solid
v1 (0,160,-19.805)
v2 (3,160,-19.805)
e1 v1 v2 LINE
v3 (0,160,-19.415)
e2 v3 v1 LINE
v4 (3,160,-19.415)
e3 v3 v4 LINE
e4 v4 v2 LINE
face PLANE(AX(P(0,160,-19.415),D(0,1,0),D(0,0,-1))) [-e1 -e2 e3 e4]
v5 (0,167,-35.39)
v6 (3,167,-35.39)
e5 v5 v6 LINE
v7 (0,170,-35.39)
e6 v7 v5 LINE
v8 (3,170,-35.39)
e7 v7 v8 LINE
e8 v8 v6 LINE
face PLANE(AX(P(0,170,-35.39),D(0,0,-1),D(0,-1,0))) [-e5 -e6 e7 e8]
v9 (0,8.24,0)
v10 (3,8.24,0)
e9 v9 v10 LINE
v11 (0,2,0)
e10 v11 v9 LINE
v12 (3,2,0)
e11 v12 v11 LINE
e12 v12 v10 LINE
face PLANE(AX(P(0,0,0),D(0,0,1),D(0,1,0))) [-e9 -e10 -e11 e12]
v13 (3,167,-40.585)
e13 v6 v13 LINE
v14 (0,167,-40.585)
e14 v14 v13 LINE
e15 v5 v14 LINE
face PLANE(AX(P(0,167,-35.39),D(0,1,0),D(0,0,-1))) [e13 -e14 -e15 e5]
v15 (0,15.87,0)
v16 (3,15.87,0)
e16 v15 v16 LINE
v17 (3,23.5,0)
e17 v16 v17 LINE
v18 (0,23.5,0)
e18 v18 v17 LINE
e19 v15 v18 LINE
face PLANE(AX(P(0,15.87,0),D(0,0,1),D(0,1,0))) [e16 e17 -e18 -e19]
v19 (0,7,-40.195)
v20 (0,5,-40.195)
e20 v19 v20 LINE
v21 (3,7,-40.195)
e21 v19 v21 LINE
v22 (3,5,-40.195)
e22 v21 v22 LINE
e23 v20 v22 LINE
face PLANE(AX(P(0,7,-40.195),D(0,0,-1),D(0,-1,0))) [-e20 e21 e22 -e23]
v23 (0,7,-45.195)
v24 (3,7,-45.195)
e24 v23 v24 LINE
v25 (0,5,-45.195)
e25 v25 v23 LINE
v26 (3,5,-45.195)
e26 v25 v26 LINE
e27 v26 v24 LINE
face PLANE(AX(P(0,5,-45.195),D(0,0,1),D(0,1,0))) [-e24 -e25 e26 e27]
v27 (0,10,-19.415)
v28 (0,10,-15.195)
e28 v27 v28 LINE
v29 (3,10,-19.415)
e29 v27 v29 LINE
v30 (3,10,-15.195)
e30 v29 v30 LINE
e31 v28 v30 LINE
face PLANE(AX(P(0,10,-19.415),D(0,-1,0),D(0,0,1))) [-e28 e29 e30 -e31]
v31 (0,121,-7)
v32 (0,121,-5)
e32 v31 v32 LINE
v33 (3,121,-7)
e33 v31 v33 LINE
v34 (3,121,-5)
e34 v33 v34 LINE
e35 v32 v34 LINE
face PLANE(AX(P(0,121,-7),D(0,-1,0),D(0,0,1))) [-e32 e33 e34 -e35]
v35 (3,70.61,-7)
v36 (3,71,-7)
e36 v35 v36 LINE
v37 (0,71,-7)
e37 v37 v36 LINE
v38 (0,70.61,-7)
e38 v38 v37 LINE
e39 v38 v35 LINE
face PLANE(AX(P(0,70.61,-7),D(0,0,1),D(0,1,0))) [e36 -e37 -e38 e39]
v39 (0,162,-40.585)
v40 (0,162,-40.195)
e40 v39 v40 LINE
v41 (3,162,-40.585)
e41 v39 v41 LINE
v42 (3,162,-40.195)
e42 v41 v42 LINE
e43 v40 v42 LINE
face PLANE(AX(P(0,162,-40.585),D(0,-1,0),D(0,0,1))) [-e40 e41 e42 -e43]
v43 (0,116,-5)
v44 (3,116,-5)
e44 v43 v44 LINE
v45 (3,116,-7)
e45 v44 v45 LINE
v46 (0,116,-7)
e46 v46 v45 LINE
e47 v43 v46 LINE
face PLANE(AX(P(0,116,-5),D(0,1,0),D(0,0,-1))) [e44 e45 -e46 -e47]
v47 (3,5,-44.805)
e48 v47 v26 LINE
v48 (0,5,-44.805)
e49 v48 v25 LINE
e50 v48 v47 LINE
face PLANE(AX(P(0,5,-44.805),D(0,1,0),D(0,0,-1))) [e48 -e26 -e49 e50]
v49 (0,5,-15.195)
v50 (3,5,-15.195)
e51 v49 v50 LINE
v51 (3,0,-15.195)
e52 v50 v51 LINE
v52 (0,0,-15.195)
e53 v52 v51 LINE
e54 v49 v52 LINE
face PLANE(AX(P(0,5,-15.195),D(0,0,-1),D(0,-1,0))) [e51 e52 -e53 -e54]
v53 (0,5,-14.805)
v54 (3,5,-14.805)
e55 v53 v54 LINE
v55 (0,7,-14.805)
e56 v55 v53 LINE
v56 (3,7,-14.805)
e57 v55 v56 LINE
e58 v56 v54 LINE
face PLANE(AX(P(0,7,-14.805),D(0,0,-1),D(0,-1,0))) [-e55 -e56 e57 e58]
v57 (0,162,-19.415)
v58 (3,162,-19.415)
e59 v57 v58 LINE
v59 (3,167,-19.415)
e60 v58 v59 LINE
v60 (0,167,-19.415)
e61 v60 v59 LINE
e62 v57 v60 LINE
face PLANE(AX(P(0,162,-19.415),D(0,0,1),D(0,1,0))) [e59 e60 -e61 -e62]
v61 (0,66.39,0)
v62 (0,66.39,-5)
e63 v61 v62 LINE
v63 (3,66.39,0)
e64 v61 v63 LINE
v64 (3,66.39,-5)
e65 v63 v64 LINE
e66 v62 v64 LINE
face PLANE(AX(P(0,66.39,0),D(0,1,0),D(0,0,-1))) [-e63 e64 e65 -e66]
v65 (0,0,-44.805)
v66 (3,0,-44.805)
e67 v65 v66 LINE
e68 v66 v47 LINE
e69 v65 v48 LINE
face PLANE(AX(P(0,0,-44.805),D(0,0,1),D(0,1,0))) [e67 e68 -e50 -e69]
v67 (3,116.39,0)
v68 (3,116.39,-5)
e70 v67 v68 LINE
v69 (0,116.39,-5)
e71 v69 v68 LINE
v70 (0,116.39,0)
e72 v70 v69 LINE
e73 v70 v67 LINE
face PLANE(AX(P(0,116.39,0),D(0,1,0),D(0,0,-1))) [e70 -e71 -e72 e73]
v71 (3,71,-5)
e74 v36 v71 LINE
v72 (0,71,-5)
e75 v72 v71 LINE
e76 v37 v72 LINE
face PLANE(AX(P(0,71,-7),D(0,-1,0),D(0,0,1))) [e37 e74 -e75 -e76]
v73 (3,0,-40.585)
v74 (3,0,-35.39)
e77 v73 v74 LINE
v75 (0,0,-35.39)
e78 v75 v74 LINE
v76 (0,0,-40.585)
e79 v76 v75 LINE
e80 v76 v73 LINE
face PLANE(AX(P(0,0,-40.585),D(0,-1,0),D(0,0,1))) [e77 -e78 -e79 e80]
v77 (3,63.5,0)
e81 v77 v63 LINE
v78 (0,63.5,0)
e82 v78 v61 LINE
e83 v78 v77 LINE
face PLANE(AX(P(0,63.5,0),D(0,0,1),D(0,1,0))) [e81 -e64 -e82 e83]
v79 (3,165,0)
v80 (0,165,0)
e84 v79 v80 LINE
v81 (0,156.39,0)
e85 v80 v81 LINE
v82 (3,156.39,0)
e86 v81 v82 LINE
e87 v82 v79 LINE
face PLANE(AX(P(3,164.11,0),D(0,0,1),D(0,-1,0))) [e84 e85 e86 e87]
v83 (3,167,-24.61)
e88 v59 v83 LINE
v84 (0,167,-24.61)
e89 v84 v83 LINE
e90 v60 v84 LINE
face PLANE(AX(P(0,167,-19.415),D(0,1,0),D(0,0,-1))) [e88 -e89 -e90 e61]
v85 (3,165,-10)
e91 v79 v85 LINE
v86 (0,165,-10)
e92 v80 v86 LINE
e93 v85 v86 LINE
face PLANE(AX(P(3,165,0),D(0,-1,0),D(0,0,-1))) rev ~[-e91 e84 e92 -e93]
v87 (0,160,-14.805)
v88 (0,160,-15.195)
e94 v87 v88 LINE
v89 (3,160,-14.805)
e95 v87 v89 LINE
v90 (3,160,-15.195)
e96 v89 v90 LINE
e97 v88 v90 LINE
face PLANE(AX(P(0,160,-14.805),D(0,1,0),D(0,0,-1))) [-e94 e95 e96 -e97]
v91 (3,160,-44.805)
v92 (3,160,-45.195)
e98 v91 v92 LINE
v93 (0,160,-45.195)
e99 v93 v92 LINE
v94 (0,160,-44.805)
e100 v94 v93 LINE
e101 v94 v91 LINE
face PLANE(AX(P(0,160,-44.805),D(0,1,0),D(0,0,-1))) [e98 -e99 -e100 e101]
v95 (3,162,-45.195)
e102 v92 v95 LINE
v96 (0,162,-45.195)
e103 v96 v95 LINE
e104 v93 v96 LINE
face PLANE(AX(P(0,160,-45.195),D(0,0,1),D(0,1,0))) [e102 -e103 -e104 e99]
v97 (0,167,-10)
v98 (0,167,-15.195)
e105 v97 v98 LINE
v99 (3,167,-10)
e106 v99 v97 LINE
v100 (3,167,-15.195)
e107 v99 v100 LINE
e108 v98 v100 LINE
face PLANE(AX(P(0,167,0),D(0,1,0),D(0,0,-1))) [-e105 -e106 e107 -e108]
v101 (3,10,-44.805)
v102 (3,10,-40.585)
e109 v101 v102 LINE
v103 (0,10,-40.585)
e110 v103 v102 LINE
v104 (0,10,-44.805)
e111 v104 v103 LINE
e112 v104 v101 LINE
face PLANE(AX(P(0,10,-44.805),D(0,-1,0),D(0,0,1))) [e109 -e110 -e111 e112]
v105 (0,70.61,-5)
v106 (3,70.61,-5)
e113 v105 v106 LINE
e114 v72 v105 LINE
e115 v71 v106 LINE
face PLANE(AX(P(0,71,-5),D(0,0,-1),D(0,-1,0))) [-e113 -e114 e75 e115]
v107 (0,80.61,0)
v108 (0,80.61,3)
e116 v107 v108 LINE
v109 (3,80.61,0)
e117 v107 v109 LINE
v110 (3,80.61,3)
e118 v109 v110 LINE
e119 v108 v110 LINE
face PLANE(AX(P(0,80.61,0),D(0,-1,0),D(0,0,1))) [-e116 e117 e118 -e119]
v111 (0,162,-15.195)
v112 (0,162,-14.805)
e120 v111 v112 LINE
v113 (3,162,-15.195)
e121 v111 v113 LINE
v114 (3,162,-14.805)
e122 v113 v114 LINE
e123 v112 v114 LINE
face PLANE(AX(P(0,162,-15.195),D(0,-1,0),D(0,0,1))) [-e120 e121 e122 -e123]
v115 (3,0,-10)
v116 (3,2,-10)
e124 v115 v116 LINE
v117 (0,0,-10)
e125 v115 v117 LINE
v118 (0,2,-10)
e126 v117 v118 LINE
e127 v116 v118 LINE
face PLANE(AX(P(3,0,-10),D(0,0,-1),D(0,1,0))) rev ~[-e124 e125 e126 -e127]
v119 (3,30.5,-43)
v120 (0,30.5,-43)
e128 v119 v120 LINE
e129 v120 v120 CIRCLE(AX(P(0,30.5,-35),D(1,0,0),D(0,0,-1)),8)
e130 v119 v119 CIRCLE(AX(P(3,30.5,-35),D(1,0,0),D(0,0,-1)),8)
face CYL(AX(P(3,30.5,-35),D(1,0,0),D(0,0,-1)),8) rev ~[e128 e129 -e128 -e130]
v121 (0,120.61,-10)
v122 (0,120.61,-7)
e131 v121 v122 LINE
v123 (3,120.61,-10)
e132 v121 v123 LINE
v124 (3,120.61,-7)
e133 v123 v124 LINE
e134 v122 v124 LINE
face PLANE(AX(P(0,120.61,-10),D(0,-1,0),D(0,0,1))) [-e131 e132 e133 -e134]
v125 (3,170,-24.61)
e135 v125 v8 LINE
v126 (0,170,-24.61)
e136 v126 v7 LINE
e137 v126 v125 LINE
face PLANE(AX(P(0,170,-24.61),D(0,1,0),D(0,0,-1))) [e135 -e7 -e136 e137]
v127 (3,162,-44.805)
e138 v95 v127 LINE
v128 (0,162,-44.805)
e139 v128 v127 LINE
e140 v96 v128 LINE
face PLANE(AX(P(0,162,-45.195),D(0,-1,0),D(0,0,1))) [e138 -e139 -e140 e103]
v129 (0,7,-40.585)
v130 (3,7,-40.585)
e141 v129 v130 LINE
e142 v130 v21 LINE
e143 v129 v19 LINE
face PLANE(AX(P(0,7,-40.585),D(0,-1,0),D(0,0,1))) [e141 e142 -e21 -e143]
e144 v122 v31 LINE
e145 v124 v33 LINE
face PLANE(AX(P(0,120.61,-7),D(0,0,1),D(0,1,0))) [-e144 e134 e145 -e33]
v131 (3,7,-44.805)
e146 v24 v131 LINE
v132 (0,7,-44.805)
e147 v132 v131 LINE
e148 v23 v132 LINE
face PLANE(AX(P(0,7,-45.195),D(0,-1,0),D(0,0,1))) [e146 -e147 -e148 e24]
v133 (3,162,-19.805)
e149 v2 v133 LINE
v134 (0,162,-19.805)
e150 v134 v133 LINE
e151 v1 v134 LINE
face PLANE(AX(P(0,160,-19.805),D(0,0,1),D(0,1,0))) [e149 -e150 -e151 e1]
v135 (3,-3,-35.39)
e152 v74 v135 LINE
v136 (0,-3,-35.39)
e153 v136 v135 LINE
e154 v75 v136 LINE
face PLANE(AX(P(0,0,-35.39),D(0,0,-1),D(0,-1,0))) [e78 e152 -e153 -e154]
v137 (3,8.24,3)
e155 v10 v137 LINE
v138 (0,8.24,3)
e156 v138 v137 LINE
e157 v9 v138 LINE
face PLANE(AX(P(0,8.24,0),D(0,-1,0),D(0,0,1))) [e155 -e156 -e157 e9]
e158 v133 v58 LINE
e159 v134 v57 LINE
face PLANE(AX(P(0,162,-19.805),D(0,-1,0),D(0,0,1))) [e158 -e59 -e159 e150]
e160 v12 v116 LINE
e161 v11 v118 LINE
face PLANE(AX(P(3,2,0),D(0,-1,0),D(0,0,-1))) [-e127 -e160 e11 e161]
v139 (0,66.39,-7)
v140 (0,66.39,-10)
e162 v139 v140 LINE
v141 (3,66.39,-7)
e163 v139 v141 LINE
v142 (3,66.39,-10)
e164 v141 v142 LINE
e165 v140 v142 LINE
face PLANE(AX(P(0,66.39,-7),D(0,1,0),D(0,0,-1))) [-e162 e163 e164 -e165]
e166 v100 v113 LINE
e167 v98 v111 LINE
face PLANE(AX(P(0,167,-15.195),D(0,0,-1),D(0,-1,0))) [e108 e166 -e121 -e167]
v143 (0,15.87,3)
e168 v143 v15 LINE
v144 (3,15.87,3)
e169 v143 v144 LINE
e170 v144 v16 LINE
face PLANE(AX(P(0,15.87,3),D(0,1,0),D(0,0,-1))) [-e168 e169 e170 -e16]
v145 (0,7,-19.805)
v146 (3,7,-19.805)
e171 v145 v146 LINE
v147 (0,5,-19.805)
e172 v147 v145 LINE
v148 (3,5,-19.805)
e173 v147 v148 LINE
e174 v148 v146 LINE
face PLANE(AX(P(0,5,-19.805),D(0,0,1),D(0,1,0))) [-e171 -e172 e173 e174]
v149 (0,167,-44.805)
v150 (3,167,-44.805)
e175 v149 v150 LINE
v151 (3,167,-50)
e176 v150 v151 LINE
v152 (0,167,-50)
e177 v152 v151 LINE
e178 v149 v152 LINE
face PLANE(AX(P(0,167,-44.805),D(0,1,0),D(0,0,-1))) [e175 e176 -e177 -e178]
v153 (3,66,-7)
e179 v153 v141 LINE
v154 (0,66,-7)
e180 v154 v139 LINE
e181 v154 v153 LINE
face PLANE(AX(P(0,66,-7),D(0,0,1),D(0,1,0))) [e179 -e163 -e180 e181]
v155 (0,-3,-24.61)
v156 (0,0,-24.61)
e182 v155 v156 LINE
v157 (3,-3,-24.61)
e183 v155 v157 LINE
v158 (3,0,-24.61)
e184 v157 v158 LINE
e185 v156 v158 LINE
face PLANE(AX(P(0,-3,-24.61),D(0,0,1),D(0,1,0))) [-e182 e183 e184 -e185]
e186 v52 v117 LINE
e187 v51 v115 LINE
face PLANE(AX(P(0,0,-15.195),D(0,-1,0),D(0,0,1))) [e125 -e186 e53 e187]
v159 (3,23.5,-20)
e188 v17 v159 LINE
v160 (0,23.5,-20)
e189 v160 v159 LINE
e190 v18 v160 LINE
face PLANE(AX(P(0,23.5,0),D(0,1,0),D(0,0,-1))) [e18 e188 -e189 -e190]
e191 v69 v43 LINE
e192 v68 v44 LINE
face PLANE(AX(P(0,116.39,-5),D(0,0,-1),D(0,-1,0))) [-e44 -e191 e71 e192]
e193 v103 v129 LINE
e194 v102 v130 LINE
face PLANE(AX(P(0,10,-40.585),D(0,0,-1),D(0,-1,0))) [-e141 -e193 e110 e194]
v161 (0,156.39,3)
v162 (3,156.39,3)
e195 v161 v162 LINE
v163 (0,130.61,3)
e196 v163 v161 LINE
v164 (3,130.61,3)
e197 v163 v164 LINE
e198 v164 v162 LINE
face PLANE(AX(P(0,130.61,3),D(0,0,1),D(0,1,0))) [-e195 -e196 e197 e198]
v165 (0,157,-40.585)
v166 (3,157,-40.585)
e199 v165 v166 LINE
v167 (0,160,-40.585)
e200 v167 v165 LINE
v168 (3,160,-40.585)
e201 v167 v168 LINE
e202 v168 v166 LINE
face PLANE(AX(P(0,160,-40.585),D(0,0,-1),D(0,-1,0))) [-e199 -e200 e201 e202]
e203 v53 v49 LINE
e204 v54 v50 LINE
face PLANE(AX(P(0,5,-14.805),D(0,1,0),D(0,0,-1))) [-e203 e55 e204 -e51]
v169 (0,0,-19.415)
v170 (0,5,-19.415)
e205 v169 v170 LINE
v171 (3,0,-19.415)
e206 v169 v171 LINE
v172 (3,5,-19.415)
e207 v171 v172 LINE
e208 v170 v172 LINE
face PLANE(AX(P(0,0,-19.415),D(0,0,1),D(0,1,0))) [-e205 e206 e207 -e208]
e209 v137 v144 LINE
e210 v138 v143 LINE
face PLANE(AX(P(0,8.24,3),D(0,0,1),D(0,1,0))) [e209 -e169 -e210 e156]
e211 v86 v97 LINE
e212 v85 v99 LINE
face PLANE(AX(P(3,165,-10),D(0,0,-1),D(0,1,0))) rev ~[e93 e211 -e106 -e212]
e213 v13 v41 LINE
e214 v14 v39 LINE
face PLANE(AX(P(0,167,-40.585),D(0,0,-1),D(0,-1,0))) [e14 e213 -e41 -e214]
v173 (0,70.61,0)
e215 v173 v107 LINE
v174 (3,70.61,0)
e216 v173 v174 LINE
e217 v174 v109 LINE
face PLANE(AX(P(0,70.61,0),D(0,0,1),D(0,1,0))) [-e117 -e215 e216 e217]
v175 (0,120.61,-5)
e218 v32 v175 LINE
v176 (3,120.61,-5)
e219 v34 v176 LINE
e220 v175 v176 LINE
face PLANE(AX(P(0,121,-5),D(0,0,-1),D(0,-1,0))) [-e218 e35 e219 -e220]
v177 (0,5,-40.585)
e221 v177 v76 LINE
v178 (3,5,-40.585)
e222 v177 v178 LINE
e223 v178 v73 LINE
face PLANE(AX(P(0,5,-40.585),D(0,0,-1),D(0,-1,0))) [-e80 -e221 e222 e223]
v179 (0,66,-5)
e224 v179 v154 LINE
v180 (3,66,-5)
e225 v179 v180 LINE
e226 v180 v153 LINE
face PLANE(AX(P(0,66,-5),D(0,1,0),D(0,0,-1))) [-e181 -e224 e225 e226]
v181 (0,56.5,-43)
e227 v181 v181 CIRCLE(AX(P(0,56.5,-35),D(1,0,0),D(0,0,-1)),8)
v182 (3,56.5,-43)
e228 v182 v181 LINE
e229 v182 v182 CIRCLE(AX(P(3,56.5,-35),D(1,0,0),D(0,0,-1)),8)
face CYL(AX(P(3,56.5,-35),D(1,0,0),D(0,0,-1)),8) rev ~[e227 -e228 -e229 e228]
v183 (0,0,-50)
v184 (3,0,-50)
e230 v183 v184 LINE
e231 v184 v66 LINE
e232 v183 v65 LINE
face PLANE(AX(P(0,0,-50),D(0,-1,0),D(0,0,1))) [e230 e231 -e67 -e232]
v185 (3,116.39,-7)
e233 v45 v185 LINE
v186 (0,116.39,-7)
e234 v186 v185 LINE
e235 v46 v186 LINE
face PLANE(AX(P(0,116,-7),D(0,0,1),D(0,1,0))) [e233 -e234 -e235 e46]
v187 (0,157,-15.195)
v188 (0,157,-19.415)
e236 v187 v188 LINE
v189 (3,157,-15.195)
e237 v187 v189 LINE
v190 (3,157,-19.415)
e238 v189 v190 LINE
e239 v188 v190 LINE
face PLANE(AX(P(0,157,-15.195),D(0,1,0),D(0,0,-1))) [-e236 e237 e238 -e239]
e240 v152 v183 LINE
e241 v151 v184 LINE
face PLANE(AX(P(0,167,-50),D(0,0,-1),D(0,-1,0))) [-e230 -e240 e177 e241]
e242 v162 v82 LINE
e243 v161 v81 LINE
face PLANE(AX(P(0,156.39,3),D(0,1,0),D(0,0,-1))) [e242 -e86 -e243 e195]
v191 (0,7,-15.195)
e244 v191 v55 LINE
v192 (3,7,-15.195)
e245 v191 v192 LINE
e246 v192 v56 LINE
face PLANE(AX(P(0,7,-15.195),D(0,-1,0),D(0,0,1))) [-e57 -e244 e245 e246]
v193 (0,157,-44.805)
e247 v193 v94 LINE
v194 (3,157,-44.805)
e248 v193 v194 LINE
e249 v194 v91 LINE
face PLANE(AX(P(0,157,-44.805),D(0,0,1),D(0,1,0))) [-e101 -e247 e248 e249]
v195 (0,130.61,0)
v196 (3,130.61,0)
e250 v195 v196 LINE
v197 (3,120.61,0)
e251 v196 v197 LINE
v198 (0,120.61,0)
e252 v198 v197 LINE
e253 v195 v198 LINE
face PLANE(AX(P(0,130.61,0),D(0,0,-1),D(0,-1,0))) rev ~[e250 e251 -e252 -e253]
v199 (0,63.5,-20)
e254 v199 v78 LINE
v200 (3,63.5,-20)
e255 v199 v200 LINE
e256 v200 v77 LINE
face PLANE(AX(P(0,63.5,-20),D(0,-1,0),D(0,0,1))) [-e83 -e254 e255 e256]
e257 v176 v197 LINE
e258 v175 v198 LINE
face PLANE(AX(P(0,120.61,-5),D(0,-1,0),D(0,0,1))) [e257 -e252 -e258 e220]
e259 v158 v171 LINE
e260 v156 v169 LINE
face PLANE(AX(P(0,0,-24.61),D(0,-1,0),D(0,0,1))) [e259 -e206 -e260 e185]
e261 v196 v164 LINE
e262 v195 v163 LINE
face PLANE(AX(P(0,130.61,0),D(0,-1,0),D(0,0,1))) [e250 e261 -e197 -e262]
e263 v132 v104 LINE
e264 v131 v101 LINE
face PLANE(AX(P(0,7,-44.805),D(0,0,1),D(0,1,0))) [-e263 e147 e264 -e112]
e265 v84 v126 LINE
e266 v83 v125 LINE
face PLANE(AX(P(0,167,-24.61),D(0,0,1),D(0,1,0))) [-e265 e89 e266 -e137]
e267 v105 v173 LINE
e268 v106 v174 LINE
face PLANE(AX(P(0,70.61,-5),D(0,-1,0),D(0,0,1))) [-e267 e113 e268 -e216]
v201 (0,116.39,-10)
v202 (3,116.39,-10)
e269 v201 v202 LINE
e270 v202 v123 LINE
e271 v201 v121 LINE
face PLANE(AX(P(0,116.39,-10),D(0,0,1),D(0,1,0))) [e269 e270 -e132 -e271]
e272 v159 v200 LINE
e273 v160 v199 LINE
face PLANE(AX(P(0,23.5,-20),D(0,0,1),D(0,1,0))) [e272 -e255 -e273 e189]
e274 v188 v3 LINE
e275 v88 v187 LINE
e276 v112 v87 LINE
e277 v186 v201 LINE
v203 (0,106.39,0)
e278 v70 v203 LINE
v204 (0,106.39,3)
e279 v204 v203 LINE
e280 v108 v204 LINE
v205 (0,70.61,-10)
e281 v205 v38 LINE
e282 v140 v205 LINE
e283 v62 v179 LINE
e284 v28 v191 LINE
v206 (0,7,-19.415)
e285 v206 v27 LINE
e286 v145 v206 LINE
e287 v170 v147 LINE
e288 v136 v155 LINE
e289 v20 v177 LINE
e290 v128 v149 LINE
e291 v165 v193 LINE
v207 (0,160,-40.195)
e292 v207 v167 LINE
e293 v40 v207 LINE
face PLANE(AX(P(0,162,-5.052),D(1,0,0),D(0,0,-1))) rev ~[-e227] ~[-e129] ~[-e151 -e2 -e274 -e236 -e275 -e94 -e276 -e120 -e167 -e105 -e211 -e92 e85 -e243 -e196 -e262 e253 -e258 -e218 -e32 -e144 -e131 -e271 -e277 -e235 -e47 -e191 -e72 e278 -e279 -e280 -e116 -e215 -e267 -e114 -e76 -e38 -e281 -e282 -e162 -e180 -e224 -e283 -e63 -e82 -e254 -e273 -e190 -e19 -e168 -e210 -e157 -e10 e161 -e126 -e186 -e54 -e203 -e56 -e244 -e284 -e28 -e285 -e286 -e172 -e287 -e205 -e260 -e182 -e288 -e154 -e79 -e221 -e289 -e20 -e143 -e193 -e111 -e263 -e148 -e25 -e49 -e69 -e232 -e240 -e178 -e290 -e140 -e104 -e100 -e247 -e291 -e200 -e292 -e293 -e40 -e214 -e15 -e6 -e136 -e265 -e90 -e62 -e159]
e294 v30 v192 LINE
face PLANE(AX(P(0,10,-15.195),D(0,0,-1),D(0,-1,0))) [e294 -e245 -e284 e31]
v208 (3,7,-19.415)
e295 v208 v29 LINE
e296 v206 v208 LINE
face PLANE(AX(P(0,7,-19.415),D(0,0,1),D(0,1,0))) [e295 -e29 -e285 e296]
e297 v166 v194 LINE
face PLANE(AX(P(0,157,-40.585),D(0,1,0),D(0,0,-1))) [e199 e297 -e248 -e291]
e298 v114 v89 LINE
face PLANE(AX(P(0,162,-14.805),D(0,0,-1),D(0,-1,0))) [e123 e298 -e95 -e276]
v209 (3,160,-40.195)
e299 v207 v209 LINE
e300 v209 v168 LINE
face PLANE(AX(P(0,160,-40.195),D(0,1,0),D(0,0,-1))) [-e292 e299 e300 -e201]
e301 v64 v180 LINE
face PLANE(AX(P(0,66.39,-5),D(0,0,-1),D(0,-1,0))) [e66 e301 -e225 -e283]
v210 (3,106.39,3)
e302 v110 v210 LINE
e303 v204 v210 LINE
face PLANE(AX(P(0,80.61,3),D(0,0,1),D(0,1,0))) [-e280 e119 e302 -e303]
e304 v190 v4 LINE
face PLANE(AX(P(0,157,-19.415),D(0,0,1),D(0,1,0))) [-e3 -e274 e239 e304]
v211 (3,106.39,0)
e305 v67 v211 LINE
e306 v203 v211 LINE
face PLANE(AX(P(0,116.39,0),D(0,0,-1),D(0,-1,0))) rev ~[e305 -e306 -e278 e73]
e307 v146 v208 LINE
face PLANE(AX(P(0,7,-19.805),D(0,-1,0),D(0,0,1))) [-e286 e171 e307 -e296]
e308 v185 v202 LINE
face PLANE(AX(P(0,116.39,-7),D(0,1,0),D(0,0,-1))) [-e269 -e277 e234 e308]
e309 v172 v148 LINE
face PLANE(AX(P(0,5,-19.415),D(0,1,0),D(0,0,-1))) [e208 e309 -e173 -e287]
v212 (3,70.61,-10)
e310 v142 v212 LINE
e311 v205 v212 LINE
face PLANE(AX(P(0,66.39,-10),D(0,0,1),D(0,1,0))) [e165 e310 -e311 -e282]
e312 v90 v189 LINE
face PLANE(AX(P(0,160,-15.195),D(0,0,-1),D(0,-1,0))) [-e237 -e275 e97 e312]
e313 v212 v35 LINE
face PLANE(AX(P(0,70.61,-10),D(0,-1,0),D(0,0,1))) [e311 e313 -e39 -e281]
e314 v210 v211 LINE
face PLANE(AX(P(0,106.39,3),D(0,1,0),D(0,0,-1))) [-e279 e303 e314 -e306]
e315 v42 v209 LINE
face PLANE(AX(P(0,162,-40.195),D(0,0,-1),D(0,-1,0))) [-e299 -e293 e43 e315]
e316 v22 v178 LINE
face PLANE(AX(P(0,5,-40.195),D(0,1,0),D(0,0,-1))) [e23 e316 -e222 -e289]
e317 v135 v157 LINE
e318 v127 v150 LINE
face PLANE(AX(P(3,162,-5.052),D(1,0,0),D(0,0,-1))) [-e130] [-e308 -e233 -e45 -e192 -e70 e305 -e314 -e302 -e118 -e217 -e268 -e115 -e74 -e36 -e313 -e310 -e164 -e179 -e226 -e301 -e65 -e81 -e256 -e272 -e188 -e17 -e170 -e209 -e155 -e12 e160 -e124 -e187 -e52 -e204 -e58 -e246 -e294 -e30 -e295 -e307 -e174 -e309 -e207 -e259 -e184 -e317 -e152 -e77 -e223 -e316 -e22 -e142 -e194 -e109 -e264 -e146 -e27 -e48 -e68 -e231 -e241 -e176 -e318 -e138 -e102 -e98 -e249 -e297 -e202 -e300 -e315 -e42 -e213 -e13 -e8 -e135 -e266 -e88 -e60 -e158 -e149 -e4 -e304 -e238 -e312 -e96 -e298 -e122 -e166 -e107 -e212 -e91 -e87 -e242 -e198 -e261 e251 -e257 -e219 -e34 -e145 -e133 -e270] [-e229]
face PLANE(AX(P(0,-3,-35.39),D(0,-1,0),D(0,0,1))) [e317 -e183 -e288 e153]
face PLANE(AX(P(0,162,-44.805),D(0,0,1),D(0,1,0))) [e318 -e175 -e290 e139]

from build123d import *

# Parameters (mm, degrees)
BOSS_EXTRUDE1_DEPTH = 3
SKETCH2_W           = 10
SKETCH2_H           = 2
CUT_EXTRUDE1_DEPTH  = 3
BOSS_EXTRUDE3_DEPTH = 3
SKETCH4_W           = 10
SKETCH4_H           = 2
CUT_EXTRUDE2_DEPTH  = 4
SKETCH5_R           = 8
CUT_EXTRUDE3_DEPTH  = 10


with BuildPart() as part:
    # Sketch1 → Boss-Extrude1 (new body)
    with BuildSketch(Plane(origin=(0, 0, 0), x_dir=(0, 0, -1), z_dir=(1, 0, 0))):
        Polygon((-3, 80.61), (-3, 106.39), (0, 106.39), (0, 113.14), (0, 116.39), (5, 116.39), (5, 116), (7, 116), (7, 116.39), (10, 116.39), (10, 120.61), (7, 120.61), (7, 121), (5, 121), (5, 120.61), (0, 120.61), (0, 124.11), (0, 130.61), (-3, 130.61), (-3, 156.39), (0, 156.39), (0, 159.89), (5, 159.89), (5, 159.5), (7, 159.5), (7, 159.89), (10, 159.89), (10, 164.11), (7, 164.11), (7, 164.5), (5, 164.5), (5, 164.11), (0, 164.11), (0, 167), (15.195, 167), (15.195, 162), (14.805, 162), (14.805, 160), (15.195, 160), (15.195, 157), (19.415, 157), (19.415, 160), (19.805, 160), (19.805, 162), (19.415, 162), (19.415, 167), (24.61, 167), (24.61, 170), (35.39, 170), (35.39, 167), (40.585, 167), (40.585, 162), (40.195, 162), (40.195, 160), (40.585, 160), (40.585, 157), (44.805, 157), (44.805, 160), (45.195, 160), (45.195, 162), (44.805, 162), (44.805, 167), (50, 167), (50, 0), (44.805, 0), (44.805, 5), (45.195, 5), (45.195, 7), (44.805, 7), (44.805, 10), (40.585, 10), (40.585, 7), (40.195, 7), (40.195, 5), (40.585, 5), (40.585, 0), (35.39, 0), (35.39, -3), (24.61, -3), (24.61, 0), (19.415, 0), (19.415, 5), (19.805, 5), (19.805, 7), (19.415, 7), (19.415, 10), (15.195, 10), (15.195, 7), (14.805, 7), (14.805, 5), (15.195, 5), (15.195, 0), (0, 0), (0, 8.24), (-3, 8.24), (-3, 15.87), (0, 15.87), (0, 23.5), (20, 23.5), (20, 63.5), (0, 63.5), (0, 66.39), (5, 66.39), (5, 66), (7, 66), (7, 66.39), (10, 66.39), (10, 70.61), (7, 70.61), (7, 71), (5, 71), (5, 70.61), (0, 70.61), (0, 80.61), align=None)
    extrude(amount=BOSS_EXTRUDE1_DEPTH)

    # Sketch2 → Cut-Extrude1 (cut)
    with BuildSketch(Plane(origin=(3, 0, 0), x_dir=(0, 0, -1), z_dir=(1, 0, 0))):
        with Locations((5, 1)):
            Rectangle(SKETCH2_W, SKETCH2_H)
    extrude(amount=-CUT_EXTRUDE1_DEPTH, mode=Mode.SUBTRACT)

    # Sketch3 → Boss-Extrude3 (add, through all)
    with BuildSketch(Plane(origin=(3, 0, 0), x_dir=(0, 0, -1), z_dir=(1, 0, 0))):
        Polygon((0, 164.11), (0, 159.89), (5, 159.89), (5, 159.5), (7, 159.5), (7, 159.89), (10, 159.89), (10, 164.11), (7, 164.11), (7, 164.5), (5, 164.5), (5, 164.11), align=None)
    extrude(amount=-BOSS_EXTRUDE3_DEPTH)

    # Sketch4 → Cut-Extrude2 (cut, through all)
    with BuildSketch(Plane(origin=(3, 0, 0), x_dir=(0, 0, -1), z_dir=(1, 0, 0))):
        with Locations((5, 166)):
            Rectangle(SKETCH4_W, SKETCH4_H)
    extrude(amount=-CUT_EXTRUDE2_DEPTH, mode=Mode.SUBTRACT)

    # Sketch5 → Cut-Extrude3 (cut)
    with BuildSketch(Plane(origin=(3, 0, 0), x_dir=(0, 0, -1), z_dir=(1, 0, 0))):
        with Locations((35, 30.5)):
            Circle(SKETCH5_R)
        with Locations((35, 56.5)):
            Circle(SKETCH5_R)
    extrude(amount=-CUT_EXTRUDE3_DEPTH, mode=Mode.SUBTRACT)


solid = part.part
